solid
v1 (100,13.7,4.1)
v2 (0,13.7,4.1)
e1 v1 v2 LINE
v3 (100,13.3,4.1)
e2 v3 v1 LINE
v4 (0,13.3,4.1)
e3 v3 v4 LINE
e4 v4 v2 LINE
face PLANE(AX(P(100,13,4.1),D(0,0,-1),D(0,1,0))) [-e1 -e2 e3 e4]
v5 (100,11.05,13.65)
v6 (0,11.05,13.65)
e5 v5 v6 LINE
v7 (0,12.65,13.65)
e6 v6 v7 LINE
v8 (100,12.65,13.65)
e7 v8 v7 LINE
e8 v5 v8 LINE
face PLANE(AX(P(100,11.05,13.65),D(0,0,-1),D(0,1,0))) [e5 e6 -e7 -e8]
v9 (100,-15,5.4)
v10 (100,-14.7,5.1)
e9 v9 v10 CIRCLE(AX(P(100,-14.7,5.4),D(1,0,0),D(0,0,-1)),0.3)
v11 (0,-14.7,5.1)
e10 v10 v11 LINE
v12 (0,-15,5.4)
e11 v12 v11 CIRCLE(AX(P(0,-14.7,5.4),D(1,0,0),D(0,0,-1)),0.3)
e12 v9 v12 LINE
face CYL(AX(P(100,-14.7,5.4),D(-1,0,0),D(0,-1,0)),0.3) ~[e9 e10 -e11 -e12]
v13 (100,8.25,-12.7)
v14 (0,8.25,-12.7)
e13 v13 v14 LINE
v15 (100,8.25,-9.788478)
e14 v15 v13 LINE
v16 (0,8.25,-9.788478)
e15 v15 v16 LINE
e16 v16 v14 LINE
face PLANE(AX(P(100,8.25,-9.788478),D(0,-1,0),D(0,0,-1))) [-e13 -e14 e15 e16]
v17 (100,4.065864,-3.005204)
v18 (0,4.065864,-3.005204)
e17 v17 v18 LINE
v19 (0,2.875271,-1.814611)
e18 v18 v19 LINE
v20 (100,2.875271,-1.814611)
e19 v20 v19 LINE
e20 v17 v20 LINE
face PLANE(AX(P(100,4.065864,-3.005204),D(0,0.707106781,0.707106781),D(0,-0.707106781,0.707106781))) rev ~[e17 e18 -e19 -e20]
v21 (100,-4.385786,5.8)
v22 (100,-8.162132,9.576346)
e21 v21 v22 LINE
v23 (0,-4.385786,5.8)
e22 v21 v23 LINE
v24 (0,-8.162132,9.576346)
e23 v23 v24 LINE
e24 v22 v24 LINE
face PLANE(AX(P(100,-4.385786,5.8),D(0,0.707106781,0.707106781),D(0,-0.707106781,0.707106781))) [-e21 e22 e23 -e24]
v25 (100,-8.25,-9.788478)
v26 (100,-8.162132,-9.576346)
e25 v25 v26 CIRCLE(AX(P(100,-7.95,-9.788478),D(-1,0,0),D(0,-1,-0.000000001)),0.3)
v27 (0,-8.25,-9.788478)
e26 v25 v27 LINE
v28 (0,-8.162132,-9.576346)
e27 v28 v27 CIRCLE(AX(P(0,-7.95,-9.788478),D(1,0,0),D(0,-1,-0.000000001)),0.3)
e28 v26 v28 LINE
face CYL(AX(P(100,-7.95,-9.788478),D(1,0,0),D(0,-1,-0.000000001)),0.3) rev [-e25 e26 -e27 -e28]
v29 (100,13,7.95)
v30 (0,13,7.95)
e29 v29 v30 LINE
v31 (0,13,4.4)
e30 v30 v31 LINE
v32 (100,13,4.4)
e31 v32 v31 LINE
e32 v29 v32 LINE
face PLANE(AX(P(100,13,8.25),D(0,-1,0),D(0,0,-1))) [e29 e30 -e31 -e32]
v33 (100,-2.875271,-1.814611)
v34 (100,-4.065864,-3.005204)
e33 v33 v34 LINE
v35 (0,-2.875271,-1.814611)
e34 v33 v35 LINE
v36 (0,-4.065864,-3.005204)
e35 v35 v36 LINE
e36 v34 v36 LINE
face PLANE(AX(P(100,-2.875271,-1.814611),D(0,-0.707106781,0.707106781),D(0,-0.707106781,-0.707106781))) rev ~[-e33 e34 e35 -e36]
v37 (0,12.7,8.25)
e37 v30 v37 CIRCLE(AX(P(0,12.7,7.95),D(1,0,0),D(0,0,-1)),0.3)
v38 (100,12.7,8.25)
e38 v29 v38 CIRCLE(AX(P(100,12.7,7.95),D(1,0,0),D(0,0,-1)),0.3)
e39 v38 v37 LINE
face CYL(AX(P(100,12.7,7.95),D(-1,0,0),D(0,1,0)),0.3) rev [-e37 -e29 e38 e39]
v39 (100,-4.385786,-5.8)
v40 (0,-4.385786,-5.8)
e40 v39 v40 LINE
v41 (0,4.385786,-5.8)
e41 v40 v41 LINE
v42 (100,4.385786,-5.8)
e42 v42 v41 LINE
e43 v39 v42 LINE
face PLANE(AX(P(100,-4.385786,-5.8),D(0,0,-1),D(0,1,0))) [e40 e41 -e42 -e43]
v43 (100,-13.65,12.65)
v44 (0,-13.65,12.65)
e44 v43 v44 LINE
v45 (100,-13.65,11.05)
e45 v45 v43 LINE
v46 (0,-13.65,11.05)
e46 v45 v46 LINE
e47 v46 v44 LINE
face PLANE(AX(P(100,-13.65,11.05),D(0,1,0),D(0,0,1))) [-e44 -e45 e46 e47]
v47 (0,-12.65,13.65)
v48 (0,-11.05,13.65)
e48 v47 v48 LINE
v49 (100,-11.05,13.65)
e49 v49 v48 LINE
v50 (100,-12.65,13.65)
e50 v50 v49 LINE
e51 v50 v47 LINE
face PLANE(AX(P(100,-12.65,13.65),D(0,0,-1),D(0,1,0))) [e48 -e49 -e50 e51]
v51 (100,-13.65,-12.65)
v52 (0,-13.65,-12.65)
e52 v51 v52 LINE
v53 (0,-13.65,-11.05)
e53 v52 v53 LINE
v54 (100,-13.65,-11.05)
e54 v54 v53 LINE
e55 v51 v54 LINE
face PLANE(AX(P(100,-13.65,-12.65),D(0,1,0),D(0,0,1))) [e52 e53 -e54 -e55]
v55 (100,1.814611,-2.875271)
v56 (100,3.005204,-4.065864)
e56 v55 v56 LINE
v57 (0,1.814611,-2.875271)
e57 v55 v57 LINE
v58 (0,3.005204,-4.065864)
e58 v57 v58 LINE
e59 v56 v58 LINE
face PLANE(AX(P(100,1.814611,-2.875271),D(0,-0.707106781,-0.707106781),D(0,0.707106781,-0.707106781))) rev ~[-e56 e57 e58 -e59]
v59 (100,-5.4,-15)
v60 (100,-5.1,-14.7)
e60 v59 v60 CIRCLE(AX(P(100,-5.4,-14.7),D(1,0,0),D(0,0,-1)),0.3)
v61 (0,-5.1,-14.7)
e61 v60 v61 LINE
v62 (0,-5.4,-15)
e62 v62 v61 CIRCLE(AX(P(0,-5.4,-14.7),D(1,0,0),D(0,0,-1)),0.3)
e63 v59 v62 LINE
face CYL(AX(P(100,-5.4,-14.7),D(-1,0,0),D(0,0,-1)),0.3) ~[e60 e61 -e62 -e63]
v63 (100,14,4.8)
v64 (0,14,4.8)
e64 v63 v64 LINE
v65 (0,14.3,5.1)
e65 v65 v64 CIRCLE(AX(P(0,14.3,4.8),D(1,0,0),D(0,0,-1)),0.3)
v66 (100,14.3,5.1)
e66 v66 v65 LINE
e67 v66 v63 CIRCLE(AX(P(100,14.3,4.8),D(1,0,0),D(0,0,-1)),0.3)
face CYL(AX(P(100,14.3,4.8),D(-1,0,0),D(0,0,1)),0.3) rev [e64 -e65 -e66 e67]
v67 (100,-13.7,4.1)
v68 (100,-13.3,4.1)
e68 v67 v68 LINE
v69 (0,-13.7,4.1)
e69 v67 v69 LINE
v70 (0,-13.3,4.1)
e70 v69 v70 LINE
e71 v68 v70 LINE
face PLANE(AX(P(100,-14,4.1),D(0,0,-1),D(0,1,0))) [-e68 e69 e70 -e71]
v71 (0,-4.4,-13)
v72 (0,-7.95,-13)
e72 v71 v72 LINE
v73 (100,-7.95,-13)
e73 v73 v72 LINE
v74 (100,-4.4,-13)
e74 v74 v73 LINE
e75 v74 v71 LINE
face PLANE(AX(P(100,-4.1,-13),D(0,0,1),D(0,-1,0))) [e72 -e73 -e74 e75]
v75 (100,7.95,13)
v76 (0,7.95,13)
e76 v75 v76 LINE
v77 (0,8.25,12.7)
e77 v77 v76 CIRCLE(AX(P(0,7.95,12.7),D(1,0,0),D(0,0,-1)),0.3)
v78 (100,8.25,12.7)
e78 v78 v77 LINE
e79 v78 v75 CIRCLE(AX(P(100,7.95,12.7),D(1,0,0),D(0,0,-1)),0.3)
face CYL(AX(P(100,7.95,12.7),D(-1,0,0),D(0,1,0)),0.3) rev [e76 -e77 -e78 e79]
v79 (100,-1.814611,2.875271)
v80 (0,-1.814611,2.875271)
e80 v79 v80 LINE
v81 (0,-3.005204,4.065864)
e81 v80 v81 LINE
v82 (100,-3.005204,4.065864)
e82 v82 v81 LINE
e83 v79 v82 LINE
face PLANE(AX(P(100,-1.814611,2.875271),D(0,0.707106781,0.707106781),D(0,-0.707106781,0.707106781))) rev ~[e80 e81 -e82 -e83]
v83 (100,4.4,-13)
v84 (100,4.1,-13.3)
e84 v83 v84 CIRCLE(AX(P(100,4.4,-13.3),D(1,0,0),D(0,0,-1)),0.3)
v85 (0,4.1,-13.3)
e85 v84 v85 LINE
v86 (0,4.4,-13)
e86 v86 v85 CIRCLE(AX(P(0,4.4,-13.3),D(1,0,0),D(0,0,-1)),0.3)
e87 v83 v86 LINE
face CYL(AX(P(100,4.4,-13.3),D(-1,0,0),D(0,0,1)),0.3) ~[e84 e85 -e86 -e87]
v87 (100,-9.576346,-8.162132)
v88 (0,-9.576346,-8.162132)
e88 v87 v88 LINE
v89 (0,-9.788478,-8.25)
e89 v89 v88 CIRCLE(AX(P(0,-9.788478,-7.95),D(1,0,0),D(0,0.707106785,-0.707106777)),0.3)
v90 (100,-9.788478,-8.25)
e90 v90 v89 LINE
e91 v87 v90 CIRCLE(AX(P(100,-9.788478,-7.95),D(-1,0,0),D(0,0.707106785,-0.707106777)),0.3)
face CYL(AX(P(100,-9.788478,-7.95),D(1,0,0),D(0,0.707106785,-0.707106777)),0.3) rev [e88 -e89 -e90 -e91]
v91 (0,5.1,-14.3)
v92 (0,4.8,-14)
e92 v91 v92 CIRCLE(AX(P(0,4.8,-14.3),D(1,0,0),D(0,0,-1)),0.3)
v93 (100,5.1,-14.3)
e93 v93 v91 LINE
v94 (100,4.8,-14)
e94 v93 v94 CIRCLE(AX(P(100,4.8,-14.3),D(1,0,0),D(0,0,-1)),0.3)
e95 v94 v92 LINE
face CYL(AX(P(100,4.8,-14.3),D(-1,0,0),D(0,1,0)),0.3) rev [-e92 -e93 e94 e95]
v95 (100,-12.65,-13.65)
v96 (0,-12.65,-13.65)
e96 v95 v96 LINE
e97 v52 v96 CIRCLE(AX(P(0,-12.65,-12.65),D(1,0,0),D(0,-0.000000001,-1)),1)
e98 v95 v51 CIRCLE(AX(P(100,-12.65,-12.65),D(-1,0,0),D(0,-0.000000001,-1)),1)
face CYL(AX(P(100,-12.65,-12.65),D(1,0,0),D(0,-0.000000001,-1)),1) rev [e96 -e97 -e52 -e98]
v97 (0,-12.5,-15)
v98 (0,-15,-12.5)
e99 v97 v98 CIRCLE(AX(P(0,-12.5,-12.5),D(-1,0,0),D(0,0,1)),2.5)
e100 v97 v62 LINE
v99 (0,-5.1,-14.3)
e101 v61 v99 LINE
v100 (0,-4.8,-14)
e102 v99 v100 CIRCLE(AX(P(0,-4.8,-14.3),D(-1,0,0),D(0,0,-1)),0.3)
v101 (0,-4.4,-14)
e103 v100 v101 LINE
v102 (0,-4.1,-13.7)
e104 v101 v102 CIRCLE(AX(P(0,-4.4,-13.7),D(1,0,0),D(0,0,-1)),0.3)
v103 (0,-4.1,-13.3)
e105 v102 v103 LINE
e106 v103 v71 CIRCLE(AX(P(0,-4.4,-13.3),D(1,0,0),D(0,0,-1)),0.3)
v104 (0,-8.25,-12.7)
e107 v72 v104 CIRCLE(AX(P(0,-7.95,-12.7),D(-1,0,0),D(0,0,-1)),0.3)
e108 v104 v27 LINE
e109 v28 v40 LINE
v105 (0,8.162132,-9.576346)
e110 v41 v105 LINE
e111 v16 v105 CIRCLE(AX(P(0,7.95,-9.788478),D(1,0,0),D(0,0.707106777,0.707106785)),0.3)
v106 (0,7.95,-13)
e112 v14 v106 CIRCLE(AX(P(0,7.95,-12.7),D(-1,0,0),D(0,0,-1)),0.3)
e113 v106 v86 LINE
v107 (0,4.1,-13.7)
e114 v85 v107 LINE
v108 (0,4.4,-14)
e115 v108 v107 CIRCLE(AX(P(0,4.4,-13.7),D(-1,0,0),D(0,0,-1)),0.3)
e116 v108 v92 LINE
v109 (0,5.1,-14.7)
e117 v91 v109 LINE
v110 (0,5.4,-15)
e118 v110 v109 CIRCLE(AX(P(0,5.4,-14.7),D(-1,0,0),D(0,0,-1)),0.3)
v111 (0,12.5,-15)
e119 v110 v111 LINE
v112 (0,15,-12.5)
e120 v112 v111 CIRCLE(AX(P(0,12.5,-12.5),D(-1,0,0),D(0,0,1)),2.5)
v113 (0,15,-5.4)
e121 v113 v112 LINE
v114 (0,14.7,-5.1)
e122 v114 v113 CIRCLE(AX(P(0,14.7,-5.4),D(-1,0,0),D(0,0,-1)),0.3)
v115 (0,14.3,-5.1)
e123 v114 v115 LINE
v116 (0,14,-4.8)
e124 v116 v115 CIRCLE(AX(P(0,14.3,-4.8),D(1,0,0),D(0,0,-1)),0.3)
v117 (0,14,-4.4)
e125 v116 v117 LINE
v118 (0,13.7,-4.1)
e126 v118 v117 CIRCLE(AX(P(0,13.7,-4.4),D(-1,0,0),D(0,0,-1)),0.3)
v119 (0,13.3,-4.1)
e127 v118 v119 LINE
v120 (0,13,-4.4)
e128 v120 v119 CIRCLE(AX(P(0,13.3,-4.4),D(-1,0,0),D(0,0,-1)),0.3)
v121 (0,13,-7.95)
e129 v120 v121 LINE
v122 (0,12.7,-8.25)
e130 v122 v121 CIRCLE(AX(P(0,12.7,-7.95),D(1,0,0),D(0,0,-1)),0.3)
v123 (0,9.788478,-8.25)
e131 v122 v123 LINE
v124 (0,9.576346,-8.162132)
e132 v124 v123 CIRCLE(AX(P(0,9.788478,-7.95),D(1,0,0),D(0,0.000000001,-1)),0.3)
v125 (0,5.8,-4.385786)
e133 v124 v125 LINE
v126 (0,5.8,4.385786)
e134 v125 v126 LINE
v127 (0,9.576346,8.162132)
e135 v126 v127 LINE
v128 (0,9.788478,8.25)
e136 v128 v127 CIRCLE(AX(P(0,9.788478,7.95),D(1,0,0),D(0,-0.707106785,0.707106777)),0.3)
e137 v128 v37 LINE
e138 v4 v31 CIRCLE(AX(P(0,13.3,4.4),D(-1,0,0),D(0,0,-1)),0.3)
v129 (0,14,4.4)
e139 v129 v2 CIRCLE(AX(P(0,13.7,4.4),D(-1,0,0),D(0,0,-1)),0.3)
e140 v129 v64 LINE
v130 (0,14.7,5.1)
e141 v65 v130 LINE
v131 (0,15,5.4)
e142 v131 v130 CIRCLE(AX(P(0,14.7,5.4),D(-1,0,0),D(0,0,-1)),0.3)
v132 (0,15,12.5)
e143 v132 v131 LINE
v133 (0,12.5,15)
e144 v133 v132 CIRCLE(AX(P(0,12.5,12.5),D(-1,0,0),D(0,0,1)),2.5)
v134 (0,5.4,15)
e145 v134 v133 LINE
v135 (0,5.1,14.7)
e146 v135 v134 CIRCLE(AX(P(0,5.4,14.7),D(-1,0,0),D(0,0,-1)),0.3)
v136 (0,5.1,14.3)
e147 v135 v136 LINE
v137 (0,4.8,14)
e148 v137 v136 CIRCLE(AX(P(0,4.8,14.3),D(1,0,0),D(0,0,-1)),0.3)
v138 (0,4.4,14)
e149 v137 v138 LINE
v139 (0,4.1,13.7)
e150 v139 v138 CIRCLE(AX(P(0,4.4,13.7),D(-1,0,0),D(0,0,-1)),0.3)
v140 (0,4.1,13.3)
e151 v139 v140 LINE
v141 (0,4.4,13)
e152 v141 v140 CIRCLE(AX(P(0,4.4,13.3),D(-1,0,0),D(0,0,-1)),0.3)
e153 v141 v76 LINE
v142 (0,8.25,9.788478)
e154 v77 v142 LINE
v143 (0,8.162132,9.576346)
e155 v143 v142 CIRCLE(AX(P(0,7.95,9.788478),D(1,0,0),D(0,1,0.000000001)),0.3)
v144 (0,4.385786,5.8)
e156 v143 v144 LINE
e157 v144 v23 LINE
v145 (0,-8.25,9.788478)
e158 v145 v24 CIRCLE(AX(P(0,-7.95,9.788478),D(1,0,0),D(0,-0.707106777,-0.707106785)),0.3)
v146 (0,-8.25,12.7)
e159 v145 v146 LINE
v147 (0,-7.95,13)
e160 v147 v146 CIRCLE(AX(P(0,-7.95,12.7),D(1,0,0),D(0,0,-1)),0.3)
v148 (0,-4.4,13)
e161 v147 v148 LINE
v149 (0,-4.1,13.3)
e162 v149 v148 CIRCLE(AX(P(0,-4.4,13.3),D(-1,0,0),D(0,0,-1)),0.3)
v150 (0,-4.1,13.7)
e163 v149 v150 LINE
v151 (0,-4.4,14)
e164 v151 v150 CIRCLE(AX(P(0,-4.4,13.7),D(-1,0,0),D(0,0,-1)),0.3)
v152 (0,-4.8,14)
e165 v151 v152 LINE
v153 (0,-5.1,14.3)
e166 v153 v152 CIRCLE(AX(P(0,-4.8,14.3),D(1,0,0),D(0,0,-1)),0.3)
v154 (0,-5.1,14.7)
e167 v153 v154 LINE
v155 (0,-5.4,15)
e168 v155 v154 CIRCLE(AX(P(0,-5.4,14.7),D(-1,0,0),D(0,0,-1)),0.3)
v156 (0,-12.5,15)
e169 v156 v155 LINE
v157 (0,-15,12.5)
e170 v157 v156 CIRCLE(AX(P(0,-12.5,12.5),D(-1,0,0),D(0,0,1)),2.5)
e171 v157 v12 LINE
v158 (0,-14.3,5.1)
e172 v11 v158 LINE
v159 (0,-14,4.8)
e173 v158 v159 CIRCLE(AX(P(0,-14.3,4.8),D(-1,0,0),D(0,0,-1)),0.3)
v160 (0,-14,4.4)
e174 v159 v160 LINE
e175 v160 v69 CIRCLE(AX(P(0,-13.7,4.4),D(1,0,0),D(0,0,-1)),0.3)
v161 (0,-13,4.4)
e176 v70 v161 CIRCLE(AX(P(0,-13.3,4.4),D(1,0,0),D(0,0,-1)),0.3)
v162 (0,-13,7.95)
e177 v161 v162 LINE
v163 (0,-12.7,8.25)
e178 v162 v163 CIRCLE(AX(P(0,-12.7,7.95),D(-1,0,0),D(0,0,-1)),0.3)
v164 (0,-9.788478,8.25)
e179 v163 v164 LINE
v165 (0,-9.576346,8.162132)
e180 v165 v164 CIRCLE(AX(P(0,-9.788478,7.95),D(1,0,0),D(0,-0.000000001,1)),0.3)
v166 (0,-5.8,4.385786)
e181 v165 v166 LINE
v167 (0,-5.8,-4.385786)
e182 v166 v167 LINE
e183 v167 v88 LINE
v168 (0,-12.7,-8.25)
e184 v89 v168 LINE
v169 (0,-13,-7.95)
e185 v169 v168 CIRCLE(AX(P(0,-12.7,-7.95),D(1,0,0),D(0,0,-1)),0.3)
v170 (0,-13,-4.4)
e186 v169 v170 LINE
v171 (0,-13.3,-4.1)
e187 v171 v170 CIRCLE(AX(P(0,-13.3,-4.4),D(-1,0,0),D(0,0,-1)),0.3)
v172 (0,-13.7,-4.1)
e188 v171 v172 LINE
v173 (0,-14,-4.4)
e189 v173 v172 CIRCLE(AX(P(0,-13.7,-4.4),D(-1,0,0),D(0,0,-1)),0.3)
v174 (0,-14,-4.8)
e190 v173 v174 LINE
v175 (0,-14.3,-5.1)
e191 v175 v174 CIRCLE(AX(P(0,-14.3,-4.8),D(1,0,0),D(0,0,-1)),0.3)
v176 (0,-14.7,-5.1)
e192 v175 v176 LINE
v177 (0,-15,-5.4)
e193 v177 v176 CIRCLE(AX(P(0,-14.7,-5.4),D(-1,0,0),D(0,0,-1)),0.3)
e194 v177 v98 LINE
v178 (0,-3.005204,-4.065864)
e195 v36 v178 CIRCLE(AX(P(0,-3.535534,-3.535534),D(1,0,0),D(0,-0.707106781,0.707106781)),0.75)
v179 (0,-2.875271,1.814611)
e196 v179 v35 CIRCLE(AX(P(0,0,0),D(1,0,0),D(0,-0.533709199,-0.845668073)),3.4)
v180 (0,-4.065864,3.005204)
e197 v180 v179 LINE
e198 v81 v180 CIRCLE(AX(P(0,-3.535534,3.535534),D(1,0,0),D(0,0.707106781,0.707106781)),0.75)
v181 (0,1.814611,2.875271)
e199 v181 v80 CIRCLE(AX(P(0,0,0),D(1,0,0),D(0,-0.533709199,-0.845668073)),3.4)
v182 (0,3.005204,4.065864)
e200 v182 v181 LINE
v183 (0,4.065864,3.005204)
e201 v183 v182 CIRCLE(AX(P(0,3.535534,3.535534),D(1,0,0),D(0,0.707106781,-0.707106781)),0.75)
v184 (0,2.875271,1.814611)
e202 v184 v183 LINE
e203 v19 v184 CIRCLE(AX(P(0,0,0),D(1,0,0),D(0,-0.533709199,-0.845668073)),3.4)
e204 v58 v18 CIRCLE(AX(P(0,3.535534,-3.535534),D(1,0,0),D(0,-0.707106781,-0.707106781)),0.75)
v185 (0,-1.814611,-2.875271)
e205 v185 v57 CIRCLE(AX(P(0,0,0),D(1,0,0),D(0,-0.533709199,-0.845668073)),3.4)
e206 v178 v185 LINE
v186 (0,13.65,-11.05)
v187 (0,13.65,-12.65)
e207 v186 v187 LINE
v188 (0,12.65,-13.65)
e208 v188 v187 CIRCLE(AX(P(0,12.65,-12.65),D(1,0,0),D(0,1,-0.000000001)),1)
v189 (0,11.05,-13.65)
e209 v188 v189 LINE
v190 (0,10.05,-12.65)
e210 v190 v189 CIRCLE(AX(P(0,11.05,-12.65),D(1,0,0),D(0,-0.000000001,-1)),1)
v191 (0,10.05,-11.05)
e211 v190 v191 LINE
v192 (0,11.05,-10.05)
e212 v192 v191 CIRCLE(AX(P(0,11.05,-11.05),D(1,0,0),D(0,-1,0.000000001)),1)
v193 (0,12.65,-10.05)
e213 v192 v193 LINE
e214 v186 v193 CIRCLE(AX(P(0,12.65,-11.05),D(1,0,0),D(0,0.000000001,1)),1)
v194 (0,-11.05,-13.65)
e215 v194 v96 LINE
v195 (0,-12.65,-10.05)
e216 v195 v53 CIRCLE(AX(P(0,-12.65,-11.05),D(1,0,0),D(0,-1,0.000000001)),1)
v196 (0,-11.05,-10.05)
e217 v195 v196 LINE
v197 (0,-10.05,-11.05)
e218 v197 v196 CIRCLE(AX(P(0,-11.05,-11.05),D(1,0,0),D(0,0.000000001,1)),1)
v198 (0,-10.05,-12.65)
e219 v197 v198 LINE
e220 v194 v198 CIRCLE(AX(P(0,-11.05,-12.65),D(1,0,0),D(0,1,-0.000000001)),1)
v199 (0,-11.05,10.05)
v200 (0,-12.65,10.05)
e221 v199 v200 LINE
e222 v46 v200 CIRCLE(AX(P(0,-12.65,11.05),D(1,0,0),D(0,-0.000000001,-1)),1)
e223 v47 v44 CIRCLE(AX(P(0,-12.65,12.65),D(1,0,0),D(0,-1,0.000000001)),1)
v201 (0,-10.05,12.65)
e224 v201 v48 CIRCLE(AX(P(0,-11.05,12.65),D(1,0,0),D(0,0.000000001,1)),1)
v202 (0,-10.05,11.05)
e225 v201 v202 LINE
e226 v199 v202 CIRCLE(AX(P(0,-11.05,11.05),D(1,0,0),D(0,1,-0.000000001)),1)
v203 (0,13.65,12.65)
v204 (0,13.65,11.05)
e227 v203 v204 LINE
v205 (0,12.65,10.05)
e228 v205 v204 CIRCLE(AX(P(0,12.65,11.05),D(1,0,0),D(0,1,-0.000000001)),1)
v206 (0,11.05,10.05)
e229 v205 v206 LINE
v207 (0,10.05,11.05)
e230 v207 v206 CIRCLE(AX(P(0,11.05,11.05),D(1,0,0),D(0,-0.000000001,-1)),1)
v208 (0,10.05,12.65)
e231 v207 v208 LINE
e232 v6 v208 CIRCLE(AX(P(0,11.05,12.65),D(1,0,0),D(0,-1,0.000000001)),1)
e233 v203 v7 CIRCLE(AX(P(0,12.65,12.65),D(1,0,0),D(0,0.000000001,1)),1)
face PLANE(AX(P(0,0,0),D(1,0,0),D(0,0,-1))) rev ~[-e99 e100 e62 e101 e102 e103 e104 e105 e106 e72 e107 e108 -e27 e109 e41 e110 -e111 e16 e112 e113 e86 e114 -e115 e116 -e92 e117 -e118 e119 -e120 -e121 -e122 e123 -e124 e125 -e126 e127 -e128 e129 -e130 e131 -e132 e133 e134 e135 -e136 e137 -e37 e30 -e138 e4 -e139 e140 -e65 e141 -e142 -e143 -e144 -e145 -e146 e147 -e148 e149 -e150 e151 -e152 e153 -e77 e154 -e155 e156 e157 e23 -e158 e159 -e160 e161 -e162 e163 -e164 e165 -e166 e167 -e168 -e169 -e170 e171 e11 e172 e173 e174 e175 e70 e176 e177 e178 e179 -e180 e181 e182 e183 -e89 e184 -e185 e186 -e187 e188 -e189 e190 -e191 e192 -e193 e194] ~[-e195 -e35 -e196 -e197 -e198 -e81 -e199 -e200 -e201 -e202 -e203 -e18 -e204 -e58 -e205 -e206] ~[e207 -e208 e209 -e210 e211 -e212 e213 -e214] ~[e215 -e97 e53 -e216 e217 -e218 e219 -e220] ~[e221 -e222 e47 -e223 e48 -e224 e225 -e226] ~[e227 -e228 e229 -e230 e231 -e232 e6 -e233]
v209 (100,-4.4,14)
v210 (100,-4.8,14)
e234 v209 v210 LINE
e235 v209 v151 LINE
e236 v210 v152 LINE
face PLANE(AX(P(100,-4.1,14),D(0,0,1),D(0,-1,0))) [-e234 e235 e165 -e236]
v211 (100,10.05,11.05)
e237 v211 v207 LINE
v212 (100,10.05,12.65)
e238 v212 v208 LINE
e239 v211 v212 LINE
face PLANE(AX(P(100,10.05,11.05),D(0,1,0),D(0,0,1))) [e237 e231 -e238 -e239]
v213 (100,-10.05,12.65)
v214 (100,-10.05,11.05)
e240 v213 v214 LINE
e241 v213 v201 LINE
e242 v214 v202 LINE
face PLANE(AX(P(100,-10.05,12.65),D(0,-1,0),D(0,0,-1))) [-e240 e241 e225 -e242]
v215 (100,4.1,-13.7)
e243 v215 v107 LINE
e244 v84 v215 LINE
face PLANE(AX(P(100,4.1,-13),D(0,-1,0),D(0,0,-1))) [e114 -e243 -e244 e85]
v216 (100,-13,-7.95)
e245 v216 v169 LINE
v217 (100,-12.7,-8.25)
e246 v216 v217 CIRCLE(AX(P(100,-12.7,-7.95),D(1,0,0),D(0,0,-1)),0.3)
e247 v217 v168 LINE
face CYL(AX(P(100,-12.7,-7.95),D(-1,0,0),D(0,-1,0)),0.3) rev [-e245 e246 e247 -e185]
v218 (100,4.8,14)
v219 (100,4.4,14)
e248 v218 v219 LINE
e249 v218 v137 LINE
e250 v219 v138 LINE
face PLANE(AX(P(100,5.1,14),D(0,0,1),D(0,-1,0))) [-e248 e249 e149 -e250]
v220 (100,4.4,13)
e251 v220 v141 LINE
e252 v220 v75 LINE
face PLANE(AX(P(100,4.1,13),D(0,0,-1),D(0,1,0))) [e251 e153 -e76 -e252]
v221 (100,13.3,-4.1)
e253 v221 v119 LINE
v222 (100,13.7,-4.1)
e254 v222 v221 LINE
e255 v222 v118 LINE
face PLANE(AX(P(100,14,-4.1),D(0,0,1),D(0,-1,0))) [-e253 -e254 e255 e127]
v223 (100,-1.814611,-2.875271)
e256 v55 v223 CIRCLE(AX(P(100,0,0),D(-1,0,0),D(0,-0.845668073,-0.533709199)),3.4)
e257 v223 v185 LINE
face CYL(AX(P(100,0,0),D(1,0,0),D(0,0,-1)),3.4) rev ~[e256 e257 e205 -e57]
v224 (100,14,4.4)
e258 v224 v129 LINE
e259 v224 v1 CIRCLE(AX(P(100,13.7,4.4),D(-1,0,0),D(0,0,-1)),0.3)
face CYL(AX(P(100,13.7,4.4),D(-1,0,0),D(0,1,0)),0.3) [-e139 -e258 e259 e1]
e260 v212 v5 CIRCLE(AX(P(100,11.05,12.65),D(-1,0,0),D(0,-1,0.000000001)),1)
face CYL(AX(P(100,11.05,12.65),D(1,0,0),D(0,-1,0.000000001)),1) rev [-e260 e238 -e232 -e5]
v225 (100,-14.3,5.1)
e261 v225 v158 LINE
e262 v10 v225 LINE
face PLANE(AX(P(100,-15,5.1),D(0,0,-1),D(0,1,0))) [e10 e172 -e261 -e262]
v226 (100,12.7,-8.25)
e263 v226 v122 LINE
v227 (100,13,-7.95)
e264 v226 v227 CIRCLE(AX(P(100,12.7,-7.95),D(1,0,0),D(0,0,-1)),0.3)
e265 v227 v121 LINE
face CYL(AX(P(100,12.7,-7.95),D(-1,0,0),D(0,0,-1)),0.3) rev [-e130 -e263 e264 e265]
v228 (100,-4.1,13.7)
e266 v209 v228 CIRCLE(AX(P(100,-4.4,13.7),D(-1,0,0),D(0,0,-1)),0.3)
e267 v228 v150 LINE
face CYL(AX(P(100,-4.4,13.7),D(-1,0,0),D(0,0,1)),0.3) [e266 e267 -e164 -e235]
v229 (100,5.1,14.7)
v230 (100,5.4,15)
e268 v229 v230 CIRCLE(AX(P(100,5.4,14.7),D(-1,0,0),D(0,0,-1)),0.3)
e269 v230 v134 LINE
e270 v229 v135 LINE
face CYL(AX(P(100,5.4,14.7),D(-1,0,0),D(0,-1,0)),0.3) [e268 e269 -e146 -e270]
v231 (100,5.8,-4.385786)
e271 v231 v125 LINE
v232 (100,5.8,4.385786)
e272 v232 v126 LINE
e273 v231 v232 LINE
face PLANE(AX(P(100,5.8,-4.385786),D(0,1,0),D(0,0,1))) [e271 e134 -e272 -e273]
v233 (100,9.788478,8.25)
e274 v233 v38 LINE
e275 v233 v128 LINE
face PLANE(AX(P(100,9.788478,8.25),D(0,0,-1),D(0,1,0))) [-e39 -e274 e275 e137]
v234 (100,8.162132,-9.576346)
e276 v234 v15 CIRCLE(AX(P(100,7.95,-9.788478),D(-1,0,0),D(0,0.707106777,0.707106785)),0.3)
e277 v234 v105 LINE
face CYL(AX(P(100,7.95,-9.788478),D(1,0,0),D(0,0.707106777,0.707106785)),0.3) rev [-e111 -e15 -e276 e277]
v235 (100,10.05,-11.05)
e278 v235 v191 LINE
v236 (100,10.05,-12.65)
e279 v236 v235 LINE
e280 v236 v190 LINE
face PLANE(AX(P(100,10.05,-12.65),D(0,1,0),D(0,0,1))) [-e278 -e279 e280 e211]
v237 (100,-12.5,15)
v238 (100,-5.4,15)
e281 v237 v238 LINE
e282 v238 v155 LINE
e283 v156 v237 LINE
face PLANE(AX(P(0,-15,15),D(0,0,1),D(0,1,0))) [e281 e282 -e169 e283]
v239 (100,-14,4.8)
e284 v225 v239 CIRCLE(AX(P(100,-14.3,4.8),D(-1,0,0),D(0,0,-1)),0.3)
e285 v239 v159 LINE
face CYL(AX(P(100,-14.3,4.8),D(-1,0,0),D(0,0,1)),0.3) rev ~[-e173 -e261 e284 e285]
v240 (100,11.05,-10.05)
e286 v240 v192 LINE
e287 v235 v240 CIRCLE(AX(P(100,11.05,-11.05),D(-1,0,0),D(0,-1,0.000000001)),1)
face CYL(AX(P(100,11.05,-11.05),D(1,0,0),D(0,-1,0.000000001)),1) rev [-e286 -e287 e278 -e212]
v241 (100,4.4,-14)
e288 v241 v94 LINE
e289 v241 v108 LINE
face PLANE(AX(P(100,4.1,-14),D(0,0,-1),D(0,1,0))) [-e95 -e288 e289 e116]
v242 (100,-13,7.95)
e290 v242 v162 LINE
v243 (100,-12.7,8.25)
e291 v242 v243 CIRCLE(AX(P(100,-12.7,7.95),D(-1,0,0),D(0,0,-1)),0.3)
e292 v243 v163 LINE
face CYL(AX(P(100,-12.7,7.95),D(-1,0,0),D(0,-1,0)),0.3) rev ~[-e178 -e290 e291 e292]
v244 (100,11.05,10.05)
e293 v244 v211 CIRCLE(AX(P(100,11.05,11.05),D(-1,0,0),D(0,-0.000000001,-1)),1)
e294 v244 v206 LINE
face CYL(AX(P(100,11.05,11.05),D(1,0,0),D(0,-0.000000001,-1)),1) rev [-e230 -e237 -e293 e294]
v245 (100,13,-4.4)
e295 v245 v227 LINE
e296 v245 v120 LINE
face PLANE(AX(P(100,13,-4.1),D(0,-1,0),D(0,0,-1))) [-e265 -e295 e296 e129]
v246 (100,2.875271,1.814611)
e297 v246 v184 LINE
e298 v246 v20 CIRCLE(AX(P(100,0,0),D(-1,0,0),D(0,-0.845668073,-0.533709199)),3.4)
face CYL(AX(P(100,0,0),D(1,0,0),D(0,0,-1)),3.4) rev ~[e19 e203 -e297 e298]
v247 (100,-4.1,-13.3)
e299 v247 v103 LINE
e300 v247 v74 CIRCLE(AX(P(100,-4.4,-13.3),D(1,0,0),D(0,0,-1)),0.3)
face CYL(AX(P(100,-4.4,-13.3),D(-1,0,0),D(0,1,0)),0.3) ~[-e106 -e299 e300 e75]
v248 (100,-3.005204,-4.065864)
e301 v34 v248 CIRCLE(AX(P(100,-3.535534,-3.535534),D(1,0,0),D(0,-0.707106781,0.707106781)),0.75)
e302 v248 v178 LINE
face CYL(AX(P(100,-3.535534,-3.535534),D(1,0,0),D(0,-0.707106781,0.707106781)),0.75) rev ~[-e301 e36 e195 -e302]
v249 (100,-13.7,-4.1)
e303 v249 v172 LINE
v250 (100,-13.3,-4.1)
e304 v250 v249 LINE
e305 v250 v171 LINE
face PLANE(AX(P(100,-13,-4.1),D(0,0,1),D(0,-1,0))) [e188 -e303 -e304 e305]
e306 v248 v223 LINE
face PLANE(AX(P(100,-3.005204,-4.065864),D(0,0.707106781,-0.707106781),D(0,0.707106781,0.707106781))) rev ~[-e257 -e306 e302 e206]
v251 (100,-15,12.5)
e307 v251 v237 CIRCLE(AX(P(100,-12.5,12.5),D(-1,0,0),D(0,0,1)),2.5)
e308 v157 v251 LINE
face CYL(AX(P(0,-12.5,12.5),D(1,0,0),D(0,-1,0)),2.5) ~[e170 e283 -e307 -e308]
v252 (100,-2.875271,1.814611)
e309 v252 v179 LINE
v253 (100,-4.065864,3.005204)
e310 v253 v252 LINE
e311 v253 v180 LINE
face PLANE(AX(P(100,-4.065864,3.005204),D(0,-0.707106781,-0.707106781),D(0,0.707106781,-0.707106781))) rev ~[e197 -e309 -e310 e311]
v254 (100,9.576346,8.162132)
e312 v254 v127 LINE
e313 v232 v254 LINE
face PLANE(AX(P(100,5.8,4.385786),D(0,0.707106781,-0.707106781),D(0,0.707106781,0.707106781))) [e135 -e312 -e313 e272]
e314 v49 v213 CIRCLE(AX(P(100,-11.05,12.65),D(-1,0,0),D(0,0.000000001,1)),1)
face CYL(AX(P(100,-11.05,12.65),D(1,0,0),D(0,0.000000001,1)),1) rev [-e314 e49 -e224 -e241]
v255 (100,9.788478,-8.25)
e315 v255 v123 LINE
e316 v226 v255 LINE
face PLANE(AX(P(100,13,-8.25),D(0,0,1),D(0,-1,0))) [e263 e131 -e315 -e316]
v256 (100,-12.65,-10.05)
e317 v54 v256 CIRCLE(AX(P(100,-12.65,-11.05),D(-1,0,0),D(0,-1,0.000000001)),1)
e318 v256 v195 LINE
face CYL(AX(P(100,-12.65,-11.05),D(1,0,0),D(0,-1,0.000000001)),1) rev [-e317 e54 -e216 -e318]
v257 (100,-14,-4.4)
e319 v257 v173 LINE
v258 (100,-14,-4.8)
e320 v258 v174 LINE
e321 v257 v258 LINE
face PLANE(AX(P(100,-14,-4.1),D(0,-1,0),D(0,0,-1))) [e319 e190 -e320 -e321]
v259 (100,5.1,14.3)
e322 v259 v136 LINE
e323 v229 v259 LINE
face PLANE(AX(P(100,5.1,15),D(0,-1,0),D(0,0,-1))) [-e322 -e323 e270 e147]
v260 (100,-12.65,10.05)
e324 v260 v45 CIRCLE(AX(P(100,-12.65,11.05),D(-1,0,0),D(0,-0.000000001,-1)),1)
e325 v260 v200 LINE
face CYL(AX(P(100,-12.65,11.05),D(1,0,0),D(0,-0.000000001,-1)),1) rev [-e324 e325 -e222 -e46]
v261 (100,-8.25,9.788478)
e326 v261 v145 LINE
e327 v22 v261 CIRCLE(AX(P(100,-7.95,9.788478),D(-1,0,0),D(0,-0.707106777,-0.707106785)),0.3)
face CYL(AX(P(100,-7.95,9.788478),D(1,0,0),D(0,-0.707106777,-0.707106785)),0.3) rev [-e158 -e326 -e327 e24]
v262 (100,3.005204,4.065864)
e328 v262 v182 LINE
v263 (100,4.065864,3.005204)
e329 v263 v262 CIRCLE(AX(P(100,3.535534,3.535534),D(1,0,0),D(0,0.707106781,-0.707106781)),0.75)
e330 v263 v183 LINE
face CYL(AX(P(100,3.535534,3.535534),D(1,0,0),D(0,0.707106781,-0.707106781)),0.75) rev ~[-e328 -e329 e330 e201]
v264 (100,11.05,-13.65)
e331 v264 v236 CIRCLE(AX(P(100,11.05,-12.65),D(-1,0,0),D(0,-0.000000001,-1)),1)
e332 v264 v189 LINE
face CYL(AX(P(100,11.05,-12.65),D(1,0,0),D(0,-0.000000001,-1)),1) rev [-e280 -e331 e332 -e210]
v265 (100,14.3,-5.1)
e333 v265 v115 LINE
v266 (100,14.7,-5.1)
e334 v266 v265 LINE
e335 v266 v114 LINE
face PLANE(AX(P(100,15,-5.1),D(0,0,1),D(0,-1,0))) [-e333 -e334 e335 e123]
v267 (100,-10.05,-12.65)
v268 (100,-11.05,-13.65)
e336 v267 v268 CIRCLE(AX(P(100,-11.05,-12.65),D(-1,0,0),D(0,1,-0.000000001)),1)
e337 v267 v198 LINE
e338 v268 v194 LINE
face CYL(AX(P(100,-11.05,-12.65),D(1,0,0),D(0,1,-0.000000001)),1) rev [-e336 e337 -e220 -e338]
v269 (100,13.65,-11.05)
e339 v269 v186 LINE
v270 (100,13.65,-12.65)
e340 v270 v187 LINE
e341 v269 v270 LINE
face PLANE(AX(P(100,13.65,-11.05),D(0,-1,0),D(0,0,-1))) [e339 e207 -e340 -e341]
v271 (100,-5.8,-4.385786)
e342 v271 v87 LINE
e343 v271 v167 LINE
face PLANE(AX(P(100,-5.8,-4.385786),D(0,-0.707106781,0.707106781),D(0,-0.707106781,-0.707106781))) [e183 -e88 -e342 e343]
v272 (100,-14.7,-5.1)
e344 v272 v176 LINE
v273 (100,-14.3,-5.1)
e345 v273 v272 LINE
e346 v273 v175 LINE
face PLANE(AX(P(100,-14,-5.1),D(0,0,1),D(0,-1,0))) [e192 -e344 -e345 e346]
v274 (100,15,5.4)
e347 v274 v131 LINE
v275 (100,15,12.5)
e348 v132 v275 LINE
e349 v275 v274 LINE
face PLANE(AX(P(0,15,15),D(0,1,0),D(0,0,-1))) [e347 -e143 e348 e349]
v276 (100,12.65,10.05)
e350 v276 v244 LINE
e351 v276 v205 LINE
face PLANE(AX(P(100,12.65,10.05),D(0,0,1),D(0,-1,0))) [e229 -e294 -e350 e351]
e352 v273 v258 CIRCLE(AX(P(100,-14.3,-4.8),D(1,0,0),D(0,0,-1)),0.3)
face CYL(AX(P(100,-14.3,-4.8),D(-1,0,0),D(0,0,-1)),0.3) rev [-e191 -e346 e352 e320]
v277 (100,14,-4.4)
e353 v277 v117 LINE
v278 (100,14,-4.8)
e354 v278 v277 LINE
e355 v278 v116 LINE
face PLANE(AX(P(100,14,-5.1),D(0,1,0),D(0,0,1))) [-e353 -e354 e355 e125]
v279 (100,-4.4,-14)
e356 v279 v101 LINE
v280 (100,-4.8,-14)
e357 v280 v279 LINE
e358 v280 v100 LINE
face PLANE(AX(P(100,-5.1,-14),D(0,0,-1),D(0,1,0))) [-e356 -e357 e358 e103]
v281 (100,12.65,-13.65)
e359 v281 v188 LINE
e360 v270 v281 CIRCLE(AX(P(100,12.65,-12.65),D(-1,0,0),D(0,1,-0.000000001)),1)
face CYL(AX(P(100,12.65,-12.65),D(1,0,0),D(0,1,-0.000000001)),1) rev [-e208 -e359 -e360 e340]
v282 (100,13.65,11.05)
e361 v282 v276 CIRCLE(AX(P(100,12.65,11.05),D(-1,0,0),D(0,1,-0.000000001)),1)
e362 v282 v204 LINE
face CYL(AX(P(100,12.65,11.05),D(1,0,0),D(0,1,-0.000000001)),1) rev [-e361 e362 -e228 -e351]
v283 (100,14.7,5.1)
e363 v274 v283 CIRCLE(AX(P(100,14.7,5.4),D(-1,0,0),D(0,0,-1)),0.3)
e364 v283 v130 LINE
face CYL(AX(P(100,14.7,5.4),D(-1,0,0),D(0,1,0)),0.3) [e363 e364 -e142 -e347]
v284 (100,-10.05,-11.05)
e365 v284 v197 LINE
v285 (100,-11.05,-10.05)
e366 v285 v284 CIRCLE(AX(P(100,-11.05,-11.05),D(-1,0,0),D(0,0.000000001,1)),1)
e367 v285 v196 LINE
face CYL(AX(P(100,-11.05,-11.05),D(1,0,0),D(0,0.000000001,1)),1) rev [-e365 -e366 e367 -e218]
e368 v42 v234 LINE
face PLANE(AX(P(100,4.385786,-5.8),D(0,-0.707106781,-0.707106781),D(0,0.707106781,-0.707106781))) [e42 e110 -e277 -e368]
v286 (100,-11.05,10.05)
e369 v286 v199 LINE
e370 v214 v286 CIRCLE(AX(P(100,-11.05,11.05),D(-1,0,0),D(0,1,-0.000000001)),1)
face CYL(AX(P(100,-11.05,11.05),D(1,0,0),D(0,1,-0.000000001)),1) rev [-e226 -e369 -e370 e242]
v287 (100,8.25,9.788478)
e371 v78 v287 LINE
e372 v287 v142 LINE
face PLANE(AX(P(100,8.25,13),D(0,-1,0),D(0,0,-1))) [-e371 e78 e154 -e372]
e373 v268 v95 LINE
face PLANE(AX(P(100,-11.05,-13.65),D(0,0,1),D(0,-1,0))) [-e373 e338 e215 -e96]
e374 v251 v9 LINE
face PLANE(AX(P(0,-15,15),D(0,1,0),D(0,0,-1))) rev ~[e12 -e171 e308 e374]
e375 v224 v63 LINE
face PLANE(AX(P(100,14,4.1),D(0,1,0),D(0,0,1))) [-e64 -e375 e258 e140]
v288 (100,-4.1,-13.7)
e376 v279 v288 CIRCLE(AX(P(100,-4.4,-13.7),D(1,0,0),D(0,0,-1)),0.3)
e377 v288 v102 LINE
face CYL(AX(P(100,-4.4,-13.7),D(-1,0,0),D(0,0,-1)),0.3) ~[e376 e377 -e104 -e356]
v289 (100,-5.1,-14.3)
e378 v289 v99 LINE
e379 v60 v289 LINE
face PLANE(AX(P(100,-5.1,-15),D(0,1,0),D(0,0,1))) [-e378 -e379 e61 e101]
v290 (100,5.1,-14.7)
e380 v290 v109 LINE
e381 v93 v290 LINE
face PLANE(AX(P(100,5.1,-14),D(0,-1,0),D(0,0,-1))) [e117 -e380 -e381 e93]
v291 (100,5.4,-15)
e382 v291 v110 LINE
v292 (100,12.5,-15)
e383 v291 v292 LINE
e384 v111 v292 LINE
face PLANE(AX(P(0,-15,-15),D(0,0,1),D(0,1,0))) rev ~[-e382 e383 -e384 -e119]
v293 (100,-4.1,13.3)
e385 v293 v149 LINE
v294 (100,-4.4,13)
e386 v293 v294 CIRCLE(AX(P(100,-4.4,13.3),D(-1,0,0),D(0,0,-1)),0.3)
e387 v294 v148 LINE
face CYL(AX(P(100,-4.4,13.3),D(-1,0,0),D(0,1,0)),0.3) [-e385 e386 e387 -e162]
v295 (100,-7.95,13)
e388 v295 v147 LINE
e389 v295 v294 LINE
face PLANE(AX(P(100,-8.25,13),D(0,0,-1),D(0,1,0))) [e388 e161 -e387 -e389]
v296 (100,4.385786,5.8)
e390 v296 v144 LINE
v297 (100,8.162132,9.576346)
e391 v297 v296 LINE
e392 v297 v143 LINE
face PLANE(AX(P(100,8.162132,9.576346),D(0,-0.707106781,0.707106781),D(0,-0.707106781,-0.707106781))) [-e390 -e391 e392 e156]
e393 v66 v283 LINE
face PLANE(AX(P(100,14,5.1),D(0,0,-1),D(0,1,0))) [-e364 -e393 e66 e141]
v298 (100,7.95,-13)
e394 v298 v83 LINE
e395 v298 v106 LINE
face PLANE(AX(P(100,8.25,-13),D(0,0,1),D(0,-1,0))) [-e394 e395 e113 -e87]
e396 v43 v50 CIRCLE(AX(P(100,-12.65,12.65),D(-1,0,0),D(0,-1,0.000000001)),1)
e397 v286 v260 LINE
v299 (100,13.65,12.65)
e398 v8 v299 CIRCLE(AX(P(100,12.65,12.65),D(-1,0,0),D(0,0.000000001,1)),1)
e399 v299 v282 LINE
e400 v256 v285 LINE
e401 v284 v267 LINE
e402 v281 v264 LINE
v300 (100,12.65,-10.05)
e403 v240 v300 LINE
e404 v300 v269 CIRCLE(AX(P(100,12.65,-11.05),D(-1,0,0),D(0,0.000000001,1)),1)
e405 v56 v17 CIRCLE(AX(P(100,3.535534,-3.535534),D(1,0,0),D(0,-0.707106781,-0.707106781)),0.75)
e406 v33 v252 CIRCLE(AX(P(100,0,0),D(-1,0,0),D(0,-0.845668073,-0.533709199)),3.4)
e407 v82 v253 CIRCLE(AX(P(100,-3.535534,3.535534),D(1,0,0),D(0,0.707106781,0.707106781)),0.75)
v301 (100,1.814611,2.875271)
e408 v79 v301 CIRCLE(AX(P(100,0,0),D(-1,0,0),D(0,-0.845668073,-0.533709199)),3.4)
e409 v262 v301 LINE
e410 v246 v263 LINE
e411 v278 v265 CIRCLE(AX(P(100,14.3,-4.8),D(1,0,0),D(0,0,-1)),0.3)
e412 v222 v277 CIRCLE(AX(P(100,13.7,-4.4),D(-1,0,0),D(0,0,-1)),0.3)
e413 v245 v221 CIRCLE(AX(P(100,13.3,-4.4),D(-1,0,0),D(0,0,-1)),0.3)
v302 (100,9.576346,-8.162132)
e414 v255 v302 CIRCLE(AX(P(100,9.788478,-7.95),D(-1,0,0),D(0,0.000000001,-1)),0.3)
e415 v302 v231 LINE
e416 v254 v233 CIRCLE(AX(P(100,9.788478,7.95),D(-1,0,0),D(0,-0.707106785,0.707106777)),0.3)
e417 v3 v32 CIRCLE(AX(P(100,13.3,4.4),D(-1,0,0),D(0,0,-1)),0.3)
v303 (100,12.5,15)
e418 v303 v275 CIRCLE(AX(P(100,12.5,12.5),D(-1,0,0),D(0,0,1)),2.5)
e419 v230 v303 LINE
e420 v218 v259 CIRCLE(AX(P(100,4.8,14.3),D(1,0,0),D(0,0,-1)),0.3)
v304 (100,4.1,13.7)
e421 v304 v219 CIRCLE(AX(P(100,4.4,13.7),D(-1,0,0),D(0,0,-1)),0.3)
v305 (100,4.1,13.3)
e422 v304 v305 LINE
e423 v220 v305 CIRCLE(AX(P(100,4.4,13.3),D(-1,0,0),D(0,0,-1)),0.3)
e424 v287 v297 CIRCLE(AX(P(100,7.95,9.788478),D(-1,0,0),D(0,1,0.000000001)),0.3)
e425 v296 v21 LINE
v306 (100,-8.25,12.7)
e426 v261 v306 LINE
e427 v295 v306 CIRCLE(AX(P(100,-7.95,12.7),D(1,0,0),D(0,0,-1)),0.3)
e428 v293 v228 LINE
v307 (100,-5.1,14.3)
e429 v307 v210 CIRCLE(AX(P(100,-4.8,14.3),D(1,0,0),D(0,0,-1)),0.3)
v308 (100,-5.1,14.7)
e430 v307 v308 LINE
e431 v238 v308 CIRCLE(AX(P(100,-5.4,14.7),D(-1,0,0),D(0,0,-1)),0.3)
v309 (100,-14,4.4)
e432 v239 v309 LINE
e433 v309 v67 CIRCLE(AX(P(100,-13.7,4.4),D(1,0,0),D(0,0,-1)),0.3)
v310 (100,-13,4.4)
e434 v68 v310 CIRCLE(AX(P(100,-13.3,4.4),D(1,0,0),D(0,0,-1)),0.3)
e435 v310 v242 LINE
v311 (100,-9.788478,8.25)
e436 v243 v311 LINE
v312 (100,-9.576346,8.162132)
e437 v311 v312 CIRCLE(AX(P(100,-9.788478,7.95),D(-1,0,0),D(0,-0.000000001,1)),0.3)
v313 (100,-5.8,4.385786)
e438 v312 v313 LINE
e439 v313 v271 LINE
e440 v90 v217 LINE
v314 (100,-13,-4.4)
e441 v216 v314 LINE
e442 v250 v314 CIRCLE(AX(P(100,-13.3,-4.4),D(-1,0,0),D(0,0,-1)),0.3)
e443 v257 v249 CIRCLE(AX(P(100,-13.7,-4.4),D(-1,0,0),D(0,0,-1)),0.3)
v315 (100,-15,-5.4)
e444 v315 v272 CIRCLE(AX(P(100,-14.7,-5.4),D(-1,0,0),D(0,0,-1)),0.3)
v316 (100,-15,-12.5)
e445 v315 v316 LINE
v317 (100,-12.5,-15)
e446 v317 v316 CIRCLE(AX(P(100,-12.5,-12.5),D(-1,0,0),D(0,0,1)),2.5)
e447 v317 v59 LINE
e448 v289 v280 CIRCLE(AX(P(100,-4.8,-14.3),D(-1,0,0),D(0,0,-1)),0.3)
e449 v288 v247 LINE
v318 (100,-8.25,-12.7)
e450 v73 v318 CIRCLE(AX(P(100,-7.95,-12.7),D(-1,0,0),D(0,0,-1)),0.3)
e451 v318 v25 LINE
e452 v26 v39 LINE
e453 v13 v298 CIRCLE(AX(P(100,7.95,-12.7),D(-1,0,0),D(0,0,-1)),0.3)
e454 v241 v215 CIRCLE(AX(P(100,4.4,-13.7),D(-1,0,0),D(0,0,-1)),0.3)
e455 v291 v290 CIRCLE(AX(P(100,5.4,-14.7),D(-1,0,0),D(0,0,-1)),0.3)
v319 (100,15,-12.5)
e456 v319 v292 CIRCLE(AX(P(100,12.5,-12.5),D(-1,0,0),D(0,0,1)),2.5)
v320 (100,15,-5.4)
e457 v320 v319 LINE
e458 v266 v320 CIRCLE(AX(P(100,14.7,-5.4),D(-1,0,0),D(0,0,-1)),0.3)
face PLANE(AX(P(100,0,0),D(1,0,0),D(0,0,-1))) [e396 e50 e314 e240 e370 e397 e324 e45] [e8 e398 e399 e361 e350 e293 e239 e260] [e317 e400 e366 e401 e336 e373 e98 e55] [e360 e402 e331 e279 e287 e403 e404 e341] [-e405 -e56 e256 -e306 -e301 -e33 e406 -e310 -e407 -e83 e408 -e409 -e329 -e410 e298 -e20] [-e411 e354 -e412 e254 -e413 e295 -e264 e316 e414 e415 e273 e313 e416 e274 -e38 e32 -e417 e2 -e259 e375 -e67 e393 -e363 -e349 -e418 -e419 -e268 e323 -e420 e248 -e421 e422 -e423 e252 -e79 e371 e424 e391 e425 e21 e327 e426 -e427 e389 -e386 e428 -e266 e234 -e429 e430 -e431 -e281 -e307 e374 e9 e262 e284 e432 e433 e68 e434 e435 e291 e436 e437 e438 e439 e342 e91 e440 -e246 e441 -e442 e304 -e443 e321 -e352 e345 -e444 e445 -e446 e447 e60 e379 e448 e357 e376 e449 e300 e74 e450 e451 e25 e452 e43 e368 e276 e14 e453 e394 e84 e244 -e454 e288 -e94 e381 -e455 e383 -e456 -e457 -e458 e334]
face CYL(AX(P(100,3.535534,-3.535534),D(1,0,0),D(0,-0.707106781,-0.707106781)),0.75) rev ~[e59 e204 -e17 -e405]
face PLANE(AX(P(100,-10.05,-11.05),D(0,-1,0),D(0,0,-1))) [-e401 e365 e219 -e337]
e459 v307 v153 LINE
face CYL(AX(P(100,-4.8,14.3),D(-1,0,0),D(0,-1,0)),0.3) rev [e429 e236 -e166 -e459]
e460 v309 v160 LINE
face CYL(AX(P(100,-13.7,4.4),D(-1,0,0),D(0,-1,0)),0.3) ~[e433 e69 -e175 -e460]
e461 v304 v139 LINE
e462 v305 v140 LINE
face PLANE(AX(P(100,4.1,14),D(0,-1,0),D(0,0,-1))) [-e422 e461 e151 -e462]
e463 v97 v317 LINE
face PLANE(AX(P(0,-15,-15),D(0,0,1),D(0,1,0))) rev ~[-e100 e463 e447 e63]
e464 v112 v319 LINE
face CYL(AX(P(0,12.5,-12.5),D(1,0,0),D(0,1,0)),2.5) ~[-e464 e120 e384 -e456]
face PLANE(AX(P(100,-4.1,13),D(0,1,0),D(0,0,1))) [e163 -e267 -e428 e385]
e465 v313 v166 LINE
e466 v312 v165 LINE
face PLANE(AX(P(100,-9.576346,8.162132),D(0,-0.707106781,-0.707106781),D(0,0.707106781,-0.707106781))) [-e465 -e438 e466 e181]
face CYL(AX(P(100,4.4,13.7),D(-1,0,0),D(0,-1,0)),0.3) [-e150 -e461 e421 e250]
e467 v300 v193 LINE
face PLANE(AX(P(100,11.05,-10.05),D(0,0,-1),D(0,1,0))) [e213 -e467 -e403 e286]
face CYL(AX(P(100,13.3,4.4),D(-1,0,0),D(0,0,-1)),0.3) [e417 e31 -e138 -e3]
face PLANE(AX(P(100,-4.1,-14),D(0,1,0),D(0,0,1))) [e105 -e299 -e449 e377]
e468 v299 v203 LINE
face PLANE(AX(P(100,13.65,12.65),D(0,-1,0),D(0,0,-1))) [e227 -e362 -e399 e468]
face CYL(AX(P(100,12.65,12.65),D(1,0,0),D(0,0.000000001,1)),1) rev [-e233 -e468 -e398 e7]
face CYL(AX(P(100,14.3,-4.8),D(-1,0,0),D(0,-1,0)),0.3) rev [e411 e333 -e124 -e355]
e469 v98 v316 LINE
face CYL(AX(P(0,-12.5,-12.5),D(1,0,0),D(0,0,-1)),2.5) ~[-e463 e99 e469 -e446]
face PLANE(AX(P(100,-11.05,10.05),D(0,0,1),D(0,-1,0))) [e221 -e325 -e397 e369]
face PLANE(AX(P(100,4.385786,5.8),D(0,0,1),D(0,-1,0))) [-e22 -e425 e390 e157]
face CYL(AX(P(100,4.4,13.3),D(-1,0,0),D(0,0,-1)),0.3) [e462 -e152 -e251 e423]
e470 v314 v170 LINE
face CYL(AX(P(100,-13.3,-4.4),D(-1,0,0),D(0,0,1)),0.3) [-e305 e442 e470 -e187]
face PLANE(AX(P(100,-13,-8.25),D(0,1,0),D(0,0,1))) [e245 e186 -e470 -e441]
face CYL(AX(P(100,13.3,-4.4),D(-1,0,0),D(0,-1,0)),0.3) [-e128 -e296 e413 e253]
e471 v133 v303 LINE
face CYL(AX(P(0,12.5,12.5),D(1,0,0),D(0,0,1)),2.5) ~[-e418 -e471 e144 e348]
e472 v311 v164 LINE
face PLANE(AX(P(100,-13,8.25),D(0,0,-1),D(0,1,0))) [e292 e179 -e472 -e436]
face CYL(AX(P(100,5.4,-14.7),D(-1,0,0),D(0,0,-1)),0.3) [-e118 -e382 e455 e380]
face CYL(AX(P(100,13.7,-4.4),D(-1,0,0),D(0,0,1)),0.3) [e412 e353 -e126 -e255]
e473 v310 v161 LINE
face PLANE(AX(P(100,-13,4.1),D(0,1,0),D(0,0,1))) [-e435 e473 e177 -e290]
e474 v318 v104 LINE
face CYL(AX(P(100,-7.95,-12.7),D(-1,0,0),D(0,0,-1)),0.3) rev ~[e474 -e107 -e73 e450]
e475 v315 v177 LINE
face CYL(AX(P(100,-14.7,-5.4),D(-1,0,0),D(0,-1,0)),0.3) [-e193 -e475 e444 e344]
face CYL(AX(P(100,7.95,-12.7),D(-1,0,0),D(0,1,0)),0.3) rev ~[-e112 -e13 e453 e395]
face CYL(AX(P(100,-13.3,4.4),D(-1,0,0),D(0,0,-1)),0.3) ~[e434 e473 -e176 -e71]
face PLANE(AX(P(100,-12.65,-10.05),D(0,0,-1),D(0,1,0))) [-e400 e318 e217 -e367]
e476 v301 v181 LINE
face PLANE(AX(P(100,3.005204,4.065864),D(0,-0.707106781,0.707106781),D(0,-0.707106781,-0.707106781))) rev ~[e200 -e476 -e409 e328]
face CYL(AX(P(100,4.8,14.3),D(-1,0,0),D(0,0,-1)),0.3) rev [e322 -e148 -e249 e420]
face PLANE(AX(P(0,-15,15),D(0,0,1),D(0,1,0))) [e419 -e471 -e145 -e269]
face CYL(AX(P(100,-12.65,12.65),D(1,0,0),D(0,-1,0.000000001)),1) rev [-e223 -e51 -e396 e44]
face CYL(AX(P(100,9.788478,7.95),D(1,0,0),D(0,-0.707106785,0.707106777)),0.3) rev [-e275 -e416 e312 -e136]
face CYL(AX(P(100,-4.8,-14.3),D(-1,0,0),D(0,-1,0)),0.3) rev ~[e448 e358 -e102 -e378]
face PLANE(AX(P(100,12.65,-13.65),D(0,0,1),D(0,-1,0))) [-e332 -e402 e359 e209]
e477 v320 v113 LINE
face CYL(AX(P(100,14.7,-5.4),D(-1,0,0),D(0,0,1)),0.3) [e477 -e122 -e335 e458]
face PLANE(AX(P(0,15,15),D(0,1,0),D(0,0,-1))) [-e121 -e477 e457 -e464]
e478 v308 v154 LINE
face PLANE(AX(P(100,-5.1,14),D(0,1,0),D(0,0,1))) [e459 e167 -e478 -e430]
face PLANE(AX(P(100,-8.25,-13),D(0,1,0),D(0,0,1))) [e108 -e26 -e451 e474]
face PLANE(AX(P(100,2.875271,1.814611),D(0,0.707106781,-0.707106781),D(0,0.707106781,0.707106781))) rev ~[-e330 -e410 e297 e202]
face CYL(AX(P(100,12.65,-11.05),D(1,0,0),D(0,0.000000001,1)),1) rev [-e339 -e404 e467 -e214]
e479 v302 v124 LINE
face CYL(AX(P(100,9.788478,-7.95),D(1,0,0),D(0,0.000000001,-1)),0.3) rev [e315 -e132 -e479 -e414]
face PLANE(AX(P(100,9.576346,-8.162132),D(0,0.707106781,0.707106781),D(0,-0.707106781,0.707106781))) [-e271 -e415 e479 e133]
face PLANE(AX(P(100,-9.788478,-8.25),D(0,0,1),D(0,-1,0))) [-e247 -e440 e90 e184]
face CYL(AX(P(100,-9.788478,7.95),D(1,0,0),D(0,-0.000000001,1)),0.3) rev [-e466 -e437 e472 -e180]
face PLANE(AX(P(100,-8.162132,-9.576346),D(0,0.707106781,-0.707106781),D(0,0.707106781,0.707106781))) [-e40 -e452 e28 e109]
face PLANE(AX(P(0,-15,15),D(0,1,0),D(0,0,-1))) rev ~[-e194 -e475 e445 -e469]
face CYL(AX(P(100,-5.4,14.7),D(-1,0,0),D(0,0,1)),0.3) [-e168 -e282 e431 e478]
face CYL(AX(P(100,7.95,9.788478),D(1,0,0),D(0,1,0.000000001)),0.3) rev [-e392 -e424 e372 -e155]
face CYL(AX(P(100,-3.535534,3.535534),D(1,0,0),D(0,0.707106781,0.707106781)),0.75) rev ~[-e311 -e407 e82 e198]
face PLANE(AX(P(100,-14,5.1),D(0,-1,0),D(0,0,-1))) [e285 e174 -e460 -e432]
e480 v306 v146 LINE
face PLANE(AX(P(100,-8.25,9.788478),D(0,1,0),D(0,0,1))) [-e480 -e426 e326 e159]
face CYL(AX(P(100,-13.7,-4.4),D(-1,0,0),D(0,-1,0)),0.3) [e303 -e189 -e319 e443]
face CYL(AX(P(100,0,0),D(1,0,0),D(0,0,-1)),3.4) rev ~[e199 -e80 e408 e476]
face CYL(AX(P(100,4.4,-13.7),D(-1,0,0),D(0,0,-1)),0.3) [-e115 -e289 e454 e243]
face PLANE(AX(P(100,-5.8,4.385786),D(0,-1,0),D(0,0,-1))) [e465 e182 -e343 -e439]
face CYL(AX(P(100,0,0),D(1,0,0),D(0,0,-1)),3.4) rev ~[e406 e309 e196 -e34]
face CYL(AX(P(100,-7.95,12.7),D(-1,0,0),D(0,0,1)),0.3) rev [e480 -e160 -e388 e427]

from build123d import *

# Parameters (mm, degrees)
SKETCH2_W                = 30
SKETCH2_H                = 30
BOSS_EXTRUDE1_DEPTH      = 100
SKETCH5_R                = 3.4
CUT_EXTRUDE2_DEPTH       = 103.225241501
CUT_EXTRUDE1_DEPTH       = 103.225241501
FILLET1_R                = 2.5
FILLET2_R                = 0.3
CIRPATTERN1_COUNT        = 4
FILLET1_OF_CIRPATTERN1_R = 2.5
FILLET2_OF_CIRPATTERN1_R = 0.3


with BuildPart() as part:
    # Sketch2 → Boss-Extrude1 (new body)
    with BuildSketch(Plane(origin=(0, 0, 0), x_dir=(0, 0, -1), z_dir=(1, 0, 0))):
        Rectangle(SKETCH2_W, SKETCH2_H)
    extrude(amount=BOSS_EXTRUDE1_DEPTH)

    # Sketch5 → Cut-Extrude2 (cut, through all)
    with BuildSketch(Plane(origin=(100, 0, 0), x_dir=(0, 0, -1), z_dir=(1, 0, 0))):
        Circle(SKETCH5_R)
    extrude(amount=-CUT_EXTRUDE2_DEPTH, mode=Mode.SUBTRACT)

    # Sketch4 → Cut-Extrude1 (cut, through all)
    with BuildSketch(Plane(origin=(100, 0, 0), x_dir=(0, 0, -1), z_dir=(1, 0, 0))):
        with BuildLine():
            Line((-4.385786454, -5.8), (4.385786454, -5.8))
            Line((4.385786454, -5.8), (8.162132034, -9.57634558))
            ThreePointArc((8.162132034, -9.57634558), (8.22716386, -9.673672585), (8.25, -9.788477614))
            Line((8.25, -9.788477614), (8.25, -13))
            Line((8.25, -13), (4.1, -13))
            Line((4.1, -13), (4.1, -14))
            Line((4.1, -14), (5.1, -14))
            Line((5.1, -14), (5.1, -15))
            Line((5.1, -15), (-5.1, -15))
            Line((-5.1, -15), (-5.1, -14))
            Line((-5.1, -14), (-4.1, -14))
            Line((-4.1, -14), (-4.1, -13))
            Line((-4.1, -13), (-8.25, -13))
            Line((-8.25, -13), (-8.25, -9.788477614))
            ThreePointArc((-8.25, -9.788477614), (-8.22716386, -9.673672585), (-8.162132034, -9.57634558))
            Line((-8.162132034, -9.57634558), (-4.385786454, -5.8))
        make_face()
        with BuildLine():
            Line((11.05, -10.05), (12.65, -10.05))
            ThreePointArc((12.65, -10.05), (13.357106781, -10.342893219), (13.65, -11.05))
            Line((13.65, -11.05), (13.65, -12.65))
            ThreePointArc((13.65, -12.65), (13.357106781, -13.357106781), (12.65, -13.65))
            Line((12.65, -13.65), (11.05, -13.65))
            ThreePointArc((11.05, -13.65), (10.342893219, -13.357106781), (10.05, -12.65))
            Line((10.05, -12.65), (10.05, -11.05))
            ThreePointArc((10.05, -11.05), (10.342893219, -10.342893219), (11.05, -10.05))
        make_face()
        with BuildLine():
            Line((4.065863992, -3.00520382), (2.87527145, -1.814611278))
            ThreePointArc((2.87527145, -1.814611278), (2.404163056, -2.404163056), (1.814611278, -2.87527145))
            Line((1.814611278, -2.87527145), (3.00520382, -4.065863992))
            ThreePointArc((3.00520382, -4.065863992), (4.065863992, -4.065863992), (4.065863992, -3.00520382))
        make_face()
    cut_extrude1 = extrude(amount=-CUT_EXTRUDE1_DEPTH, mode=Mode.SUBTRACT)

    # Fillet1
    fillet1_edges = [part.edges().sort_by_distance(p)[0] for p in [
        (50, -15, -15),
    ]]
    fillet(fillet1_edges, radius=FILLET1_R)

    # Fillet2
    fillet2_edges = [part.edges().sort_by_distance(p)[0] for p in [
        (50, -13, -8.25),
        (50, -13, -4.1),
        (50, -14, -4.1),
        (50, -14, -5.1),
        (50, -15, -5.1),
        (50, -15, 5.1),
        (50, -14, 5.1),
        (50, -14, 4.1),
        (50, -13, 4.1),
        (50, -13, 8.25),
    ]]
    fillet(fillet2_edges, radius=FILLET2_R)

    # CirPattern1: Cut-Extrude1 ×4 about axis
    cirpattern1_axis = Axis((0, 0, 0), (1, 0, 0))
    for i in range(1, CIRPATTERN1_COUNT):
        add(cut_extrude1.rotate(cirpattern1_axis, i * 360 / CIRPATTERN1_COUNT), mode=Mode.SUBTRACT)

    # Fillet1 of CirPattern1
    fillet1_of_cirpattern1_edges = [part.edges().sort_by_distance(p)[0] for p in [
        (50, 15, -15),
        (50, 15, 15),
        (50, -15, 15),
    ]]
    fillet(fillet1_of_cirpattern1_edges, radius=FILLET1_OF_CIRPATTERN1_R)

    # Fillet2 of CirPattern1
    fillet2_of_cirpattern1_edges = [part.edges().sort_by_distance(p)[0] for p in [
        (50, 8.25, -13),
        (50, 4.1, -13),
        (50, 4.1, -14),
        (50, 5.1, -14),
        (50, 5.1, -15),
        (50, -5.1, -15),
        (50, -5.1, -14),
        (50, -4.1, -14),
        (50, -4.1, -13),
        (50, -8.25, -13),
        (50, 13, 8.25),
        (50, 13, 4.1),
        (50, 14, 4.1),
        (50, 14, 5.1),
        (50, 15, 5.1),
        (50, 15, -5.1),
        (50, 14, -5.1),
        (50, 14, -4.1),
        (50, 13, -4.1),
        (50, 13, -8.25),
        (50, -8.25, 13),
        (50, -4.1, 13),
        (50, -4.1, 14),
        (50, -5.1, 14),
        (50, -5.1, 15),
        (50, 5.1, 15),
        (50, 5.1, 14),
        (50, 4.1, 14),
        (50, 4.1, 13),
        (50, 8.25, 13),
    ]]
    fillet(fillet2_of_cirpattern1_edges, radius=FILLET2_OF_CIRPATTERN1_R)


solid = part.part
